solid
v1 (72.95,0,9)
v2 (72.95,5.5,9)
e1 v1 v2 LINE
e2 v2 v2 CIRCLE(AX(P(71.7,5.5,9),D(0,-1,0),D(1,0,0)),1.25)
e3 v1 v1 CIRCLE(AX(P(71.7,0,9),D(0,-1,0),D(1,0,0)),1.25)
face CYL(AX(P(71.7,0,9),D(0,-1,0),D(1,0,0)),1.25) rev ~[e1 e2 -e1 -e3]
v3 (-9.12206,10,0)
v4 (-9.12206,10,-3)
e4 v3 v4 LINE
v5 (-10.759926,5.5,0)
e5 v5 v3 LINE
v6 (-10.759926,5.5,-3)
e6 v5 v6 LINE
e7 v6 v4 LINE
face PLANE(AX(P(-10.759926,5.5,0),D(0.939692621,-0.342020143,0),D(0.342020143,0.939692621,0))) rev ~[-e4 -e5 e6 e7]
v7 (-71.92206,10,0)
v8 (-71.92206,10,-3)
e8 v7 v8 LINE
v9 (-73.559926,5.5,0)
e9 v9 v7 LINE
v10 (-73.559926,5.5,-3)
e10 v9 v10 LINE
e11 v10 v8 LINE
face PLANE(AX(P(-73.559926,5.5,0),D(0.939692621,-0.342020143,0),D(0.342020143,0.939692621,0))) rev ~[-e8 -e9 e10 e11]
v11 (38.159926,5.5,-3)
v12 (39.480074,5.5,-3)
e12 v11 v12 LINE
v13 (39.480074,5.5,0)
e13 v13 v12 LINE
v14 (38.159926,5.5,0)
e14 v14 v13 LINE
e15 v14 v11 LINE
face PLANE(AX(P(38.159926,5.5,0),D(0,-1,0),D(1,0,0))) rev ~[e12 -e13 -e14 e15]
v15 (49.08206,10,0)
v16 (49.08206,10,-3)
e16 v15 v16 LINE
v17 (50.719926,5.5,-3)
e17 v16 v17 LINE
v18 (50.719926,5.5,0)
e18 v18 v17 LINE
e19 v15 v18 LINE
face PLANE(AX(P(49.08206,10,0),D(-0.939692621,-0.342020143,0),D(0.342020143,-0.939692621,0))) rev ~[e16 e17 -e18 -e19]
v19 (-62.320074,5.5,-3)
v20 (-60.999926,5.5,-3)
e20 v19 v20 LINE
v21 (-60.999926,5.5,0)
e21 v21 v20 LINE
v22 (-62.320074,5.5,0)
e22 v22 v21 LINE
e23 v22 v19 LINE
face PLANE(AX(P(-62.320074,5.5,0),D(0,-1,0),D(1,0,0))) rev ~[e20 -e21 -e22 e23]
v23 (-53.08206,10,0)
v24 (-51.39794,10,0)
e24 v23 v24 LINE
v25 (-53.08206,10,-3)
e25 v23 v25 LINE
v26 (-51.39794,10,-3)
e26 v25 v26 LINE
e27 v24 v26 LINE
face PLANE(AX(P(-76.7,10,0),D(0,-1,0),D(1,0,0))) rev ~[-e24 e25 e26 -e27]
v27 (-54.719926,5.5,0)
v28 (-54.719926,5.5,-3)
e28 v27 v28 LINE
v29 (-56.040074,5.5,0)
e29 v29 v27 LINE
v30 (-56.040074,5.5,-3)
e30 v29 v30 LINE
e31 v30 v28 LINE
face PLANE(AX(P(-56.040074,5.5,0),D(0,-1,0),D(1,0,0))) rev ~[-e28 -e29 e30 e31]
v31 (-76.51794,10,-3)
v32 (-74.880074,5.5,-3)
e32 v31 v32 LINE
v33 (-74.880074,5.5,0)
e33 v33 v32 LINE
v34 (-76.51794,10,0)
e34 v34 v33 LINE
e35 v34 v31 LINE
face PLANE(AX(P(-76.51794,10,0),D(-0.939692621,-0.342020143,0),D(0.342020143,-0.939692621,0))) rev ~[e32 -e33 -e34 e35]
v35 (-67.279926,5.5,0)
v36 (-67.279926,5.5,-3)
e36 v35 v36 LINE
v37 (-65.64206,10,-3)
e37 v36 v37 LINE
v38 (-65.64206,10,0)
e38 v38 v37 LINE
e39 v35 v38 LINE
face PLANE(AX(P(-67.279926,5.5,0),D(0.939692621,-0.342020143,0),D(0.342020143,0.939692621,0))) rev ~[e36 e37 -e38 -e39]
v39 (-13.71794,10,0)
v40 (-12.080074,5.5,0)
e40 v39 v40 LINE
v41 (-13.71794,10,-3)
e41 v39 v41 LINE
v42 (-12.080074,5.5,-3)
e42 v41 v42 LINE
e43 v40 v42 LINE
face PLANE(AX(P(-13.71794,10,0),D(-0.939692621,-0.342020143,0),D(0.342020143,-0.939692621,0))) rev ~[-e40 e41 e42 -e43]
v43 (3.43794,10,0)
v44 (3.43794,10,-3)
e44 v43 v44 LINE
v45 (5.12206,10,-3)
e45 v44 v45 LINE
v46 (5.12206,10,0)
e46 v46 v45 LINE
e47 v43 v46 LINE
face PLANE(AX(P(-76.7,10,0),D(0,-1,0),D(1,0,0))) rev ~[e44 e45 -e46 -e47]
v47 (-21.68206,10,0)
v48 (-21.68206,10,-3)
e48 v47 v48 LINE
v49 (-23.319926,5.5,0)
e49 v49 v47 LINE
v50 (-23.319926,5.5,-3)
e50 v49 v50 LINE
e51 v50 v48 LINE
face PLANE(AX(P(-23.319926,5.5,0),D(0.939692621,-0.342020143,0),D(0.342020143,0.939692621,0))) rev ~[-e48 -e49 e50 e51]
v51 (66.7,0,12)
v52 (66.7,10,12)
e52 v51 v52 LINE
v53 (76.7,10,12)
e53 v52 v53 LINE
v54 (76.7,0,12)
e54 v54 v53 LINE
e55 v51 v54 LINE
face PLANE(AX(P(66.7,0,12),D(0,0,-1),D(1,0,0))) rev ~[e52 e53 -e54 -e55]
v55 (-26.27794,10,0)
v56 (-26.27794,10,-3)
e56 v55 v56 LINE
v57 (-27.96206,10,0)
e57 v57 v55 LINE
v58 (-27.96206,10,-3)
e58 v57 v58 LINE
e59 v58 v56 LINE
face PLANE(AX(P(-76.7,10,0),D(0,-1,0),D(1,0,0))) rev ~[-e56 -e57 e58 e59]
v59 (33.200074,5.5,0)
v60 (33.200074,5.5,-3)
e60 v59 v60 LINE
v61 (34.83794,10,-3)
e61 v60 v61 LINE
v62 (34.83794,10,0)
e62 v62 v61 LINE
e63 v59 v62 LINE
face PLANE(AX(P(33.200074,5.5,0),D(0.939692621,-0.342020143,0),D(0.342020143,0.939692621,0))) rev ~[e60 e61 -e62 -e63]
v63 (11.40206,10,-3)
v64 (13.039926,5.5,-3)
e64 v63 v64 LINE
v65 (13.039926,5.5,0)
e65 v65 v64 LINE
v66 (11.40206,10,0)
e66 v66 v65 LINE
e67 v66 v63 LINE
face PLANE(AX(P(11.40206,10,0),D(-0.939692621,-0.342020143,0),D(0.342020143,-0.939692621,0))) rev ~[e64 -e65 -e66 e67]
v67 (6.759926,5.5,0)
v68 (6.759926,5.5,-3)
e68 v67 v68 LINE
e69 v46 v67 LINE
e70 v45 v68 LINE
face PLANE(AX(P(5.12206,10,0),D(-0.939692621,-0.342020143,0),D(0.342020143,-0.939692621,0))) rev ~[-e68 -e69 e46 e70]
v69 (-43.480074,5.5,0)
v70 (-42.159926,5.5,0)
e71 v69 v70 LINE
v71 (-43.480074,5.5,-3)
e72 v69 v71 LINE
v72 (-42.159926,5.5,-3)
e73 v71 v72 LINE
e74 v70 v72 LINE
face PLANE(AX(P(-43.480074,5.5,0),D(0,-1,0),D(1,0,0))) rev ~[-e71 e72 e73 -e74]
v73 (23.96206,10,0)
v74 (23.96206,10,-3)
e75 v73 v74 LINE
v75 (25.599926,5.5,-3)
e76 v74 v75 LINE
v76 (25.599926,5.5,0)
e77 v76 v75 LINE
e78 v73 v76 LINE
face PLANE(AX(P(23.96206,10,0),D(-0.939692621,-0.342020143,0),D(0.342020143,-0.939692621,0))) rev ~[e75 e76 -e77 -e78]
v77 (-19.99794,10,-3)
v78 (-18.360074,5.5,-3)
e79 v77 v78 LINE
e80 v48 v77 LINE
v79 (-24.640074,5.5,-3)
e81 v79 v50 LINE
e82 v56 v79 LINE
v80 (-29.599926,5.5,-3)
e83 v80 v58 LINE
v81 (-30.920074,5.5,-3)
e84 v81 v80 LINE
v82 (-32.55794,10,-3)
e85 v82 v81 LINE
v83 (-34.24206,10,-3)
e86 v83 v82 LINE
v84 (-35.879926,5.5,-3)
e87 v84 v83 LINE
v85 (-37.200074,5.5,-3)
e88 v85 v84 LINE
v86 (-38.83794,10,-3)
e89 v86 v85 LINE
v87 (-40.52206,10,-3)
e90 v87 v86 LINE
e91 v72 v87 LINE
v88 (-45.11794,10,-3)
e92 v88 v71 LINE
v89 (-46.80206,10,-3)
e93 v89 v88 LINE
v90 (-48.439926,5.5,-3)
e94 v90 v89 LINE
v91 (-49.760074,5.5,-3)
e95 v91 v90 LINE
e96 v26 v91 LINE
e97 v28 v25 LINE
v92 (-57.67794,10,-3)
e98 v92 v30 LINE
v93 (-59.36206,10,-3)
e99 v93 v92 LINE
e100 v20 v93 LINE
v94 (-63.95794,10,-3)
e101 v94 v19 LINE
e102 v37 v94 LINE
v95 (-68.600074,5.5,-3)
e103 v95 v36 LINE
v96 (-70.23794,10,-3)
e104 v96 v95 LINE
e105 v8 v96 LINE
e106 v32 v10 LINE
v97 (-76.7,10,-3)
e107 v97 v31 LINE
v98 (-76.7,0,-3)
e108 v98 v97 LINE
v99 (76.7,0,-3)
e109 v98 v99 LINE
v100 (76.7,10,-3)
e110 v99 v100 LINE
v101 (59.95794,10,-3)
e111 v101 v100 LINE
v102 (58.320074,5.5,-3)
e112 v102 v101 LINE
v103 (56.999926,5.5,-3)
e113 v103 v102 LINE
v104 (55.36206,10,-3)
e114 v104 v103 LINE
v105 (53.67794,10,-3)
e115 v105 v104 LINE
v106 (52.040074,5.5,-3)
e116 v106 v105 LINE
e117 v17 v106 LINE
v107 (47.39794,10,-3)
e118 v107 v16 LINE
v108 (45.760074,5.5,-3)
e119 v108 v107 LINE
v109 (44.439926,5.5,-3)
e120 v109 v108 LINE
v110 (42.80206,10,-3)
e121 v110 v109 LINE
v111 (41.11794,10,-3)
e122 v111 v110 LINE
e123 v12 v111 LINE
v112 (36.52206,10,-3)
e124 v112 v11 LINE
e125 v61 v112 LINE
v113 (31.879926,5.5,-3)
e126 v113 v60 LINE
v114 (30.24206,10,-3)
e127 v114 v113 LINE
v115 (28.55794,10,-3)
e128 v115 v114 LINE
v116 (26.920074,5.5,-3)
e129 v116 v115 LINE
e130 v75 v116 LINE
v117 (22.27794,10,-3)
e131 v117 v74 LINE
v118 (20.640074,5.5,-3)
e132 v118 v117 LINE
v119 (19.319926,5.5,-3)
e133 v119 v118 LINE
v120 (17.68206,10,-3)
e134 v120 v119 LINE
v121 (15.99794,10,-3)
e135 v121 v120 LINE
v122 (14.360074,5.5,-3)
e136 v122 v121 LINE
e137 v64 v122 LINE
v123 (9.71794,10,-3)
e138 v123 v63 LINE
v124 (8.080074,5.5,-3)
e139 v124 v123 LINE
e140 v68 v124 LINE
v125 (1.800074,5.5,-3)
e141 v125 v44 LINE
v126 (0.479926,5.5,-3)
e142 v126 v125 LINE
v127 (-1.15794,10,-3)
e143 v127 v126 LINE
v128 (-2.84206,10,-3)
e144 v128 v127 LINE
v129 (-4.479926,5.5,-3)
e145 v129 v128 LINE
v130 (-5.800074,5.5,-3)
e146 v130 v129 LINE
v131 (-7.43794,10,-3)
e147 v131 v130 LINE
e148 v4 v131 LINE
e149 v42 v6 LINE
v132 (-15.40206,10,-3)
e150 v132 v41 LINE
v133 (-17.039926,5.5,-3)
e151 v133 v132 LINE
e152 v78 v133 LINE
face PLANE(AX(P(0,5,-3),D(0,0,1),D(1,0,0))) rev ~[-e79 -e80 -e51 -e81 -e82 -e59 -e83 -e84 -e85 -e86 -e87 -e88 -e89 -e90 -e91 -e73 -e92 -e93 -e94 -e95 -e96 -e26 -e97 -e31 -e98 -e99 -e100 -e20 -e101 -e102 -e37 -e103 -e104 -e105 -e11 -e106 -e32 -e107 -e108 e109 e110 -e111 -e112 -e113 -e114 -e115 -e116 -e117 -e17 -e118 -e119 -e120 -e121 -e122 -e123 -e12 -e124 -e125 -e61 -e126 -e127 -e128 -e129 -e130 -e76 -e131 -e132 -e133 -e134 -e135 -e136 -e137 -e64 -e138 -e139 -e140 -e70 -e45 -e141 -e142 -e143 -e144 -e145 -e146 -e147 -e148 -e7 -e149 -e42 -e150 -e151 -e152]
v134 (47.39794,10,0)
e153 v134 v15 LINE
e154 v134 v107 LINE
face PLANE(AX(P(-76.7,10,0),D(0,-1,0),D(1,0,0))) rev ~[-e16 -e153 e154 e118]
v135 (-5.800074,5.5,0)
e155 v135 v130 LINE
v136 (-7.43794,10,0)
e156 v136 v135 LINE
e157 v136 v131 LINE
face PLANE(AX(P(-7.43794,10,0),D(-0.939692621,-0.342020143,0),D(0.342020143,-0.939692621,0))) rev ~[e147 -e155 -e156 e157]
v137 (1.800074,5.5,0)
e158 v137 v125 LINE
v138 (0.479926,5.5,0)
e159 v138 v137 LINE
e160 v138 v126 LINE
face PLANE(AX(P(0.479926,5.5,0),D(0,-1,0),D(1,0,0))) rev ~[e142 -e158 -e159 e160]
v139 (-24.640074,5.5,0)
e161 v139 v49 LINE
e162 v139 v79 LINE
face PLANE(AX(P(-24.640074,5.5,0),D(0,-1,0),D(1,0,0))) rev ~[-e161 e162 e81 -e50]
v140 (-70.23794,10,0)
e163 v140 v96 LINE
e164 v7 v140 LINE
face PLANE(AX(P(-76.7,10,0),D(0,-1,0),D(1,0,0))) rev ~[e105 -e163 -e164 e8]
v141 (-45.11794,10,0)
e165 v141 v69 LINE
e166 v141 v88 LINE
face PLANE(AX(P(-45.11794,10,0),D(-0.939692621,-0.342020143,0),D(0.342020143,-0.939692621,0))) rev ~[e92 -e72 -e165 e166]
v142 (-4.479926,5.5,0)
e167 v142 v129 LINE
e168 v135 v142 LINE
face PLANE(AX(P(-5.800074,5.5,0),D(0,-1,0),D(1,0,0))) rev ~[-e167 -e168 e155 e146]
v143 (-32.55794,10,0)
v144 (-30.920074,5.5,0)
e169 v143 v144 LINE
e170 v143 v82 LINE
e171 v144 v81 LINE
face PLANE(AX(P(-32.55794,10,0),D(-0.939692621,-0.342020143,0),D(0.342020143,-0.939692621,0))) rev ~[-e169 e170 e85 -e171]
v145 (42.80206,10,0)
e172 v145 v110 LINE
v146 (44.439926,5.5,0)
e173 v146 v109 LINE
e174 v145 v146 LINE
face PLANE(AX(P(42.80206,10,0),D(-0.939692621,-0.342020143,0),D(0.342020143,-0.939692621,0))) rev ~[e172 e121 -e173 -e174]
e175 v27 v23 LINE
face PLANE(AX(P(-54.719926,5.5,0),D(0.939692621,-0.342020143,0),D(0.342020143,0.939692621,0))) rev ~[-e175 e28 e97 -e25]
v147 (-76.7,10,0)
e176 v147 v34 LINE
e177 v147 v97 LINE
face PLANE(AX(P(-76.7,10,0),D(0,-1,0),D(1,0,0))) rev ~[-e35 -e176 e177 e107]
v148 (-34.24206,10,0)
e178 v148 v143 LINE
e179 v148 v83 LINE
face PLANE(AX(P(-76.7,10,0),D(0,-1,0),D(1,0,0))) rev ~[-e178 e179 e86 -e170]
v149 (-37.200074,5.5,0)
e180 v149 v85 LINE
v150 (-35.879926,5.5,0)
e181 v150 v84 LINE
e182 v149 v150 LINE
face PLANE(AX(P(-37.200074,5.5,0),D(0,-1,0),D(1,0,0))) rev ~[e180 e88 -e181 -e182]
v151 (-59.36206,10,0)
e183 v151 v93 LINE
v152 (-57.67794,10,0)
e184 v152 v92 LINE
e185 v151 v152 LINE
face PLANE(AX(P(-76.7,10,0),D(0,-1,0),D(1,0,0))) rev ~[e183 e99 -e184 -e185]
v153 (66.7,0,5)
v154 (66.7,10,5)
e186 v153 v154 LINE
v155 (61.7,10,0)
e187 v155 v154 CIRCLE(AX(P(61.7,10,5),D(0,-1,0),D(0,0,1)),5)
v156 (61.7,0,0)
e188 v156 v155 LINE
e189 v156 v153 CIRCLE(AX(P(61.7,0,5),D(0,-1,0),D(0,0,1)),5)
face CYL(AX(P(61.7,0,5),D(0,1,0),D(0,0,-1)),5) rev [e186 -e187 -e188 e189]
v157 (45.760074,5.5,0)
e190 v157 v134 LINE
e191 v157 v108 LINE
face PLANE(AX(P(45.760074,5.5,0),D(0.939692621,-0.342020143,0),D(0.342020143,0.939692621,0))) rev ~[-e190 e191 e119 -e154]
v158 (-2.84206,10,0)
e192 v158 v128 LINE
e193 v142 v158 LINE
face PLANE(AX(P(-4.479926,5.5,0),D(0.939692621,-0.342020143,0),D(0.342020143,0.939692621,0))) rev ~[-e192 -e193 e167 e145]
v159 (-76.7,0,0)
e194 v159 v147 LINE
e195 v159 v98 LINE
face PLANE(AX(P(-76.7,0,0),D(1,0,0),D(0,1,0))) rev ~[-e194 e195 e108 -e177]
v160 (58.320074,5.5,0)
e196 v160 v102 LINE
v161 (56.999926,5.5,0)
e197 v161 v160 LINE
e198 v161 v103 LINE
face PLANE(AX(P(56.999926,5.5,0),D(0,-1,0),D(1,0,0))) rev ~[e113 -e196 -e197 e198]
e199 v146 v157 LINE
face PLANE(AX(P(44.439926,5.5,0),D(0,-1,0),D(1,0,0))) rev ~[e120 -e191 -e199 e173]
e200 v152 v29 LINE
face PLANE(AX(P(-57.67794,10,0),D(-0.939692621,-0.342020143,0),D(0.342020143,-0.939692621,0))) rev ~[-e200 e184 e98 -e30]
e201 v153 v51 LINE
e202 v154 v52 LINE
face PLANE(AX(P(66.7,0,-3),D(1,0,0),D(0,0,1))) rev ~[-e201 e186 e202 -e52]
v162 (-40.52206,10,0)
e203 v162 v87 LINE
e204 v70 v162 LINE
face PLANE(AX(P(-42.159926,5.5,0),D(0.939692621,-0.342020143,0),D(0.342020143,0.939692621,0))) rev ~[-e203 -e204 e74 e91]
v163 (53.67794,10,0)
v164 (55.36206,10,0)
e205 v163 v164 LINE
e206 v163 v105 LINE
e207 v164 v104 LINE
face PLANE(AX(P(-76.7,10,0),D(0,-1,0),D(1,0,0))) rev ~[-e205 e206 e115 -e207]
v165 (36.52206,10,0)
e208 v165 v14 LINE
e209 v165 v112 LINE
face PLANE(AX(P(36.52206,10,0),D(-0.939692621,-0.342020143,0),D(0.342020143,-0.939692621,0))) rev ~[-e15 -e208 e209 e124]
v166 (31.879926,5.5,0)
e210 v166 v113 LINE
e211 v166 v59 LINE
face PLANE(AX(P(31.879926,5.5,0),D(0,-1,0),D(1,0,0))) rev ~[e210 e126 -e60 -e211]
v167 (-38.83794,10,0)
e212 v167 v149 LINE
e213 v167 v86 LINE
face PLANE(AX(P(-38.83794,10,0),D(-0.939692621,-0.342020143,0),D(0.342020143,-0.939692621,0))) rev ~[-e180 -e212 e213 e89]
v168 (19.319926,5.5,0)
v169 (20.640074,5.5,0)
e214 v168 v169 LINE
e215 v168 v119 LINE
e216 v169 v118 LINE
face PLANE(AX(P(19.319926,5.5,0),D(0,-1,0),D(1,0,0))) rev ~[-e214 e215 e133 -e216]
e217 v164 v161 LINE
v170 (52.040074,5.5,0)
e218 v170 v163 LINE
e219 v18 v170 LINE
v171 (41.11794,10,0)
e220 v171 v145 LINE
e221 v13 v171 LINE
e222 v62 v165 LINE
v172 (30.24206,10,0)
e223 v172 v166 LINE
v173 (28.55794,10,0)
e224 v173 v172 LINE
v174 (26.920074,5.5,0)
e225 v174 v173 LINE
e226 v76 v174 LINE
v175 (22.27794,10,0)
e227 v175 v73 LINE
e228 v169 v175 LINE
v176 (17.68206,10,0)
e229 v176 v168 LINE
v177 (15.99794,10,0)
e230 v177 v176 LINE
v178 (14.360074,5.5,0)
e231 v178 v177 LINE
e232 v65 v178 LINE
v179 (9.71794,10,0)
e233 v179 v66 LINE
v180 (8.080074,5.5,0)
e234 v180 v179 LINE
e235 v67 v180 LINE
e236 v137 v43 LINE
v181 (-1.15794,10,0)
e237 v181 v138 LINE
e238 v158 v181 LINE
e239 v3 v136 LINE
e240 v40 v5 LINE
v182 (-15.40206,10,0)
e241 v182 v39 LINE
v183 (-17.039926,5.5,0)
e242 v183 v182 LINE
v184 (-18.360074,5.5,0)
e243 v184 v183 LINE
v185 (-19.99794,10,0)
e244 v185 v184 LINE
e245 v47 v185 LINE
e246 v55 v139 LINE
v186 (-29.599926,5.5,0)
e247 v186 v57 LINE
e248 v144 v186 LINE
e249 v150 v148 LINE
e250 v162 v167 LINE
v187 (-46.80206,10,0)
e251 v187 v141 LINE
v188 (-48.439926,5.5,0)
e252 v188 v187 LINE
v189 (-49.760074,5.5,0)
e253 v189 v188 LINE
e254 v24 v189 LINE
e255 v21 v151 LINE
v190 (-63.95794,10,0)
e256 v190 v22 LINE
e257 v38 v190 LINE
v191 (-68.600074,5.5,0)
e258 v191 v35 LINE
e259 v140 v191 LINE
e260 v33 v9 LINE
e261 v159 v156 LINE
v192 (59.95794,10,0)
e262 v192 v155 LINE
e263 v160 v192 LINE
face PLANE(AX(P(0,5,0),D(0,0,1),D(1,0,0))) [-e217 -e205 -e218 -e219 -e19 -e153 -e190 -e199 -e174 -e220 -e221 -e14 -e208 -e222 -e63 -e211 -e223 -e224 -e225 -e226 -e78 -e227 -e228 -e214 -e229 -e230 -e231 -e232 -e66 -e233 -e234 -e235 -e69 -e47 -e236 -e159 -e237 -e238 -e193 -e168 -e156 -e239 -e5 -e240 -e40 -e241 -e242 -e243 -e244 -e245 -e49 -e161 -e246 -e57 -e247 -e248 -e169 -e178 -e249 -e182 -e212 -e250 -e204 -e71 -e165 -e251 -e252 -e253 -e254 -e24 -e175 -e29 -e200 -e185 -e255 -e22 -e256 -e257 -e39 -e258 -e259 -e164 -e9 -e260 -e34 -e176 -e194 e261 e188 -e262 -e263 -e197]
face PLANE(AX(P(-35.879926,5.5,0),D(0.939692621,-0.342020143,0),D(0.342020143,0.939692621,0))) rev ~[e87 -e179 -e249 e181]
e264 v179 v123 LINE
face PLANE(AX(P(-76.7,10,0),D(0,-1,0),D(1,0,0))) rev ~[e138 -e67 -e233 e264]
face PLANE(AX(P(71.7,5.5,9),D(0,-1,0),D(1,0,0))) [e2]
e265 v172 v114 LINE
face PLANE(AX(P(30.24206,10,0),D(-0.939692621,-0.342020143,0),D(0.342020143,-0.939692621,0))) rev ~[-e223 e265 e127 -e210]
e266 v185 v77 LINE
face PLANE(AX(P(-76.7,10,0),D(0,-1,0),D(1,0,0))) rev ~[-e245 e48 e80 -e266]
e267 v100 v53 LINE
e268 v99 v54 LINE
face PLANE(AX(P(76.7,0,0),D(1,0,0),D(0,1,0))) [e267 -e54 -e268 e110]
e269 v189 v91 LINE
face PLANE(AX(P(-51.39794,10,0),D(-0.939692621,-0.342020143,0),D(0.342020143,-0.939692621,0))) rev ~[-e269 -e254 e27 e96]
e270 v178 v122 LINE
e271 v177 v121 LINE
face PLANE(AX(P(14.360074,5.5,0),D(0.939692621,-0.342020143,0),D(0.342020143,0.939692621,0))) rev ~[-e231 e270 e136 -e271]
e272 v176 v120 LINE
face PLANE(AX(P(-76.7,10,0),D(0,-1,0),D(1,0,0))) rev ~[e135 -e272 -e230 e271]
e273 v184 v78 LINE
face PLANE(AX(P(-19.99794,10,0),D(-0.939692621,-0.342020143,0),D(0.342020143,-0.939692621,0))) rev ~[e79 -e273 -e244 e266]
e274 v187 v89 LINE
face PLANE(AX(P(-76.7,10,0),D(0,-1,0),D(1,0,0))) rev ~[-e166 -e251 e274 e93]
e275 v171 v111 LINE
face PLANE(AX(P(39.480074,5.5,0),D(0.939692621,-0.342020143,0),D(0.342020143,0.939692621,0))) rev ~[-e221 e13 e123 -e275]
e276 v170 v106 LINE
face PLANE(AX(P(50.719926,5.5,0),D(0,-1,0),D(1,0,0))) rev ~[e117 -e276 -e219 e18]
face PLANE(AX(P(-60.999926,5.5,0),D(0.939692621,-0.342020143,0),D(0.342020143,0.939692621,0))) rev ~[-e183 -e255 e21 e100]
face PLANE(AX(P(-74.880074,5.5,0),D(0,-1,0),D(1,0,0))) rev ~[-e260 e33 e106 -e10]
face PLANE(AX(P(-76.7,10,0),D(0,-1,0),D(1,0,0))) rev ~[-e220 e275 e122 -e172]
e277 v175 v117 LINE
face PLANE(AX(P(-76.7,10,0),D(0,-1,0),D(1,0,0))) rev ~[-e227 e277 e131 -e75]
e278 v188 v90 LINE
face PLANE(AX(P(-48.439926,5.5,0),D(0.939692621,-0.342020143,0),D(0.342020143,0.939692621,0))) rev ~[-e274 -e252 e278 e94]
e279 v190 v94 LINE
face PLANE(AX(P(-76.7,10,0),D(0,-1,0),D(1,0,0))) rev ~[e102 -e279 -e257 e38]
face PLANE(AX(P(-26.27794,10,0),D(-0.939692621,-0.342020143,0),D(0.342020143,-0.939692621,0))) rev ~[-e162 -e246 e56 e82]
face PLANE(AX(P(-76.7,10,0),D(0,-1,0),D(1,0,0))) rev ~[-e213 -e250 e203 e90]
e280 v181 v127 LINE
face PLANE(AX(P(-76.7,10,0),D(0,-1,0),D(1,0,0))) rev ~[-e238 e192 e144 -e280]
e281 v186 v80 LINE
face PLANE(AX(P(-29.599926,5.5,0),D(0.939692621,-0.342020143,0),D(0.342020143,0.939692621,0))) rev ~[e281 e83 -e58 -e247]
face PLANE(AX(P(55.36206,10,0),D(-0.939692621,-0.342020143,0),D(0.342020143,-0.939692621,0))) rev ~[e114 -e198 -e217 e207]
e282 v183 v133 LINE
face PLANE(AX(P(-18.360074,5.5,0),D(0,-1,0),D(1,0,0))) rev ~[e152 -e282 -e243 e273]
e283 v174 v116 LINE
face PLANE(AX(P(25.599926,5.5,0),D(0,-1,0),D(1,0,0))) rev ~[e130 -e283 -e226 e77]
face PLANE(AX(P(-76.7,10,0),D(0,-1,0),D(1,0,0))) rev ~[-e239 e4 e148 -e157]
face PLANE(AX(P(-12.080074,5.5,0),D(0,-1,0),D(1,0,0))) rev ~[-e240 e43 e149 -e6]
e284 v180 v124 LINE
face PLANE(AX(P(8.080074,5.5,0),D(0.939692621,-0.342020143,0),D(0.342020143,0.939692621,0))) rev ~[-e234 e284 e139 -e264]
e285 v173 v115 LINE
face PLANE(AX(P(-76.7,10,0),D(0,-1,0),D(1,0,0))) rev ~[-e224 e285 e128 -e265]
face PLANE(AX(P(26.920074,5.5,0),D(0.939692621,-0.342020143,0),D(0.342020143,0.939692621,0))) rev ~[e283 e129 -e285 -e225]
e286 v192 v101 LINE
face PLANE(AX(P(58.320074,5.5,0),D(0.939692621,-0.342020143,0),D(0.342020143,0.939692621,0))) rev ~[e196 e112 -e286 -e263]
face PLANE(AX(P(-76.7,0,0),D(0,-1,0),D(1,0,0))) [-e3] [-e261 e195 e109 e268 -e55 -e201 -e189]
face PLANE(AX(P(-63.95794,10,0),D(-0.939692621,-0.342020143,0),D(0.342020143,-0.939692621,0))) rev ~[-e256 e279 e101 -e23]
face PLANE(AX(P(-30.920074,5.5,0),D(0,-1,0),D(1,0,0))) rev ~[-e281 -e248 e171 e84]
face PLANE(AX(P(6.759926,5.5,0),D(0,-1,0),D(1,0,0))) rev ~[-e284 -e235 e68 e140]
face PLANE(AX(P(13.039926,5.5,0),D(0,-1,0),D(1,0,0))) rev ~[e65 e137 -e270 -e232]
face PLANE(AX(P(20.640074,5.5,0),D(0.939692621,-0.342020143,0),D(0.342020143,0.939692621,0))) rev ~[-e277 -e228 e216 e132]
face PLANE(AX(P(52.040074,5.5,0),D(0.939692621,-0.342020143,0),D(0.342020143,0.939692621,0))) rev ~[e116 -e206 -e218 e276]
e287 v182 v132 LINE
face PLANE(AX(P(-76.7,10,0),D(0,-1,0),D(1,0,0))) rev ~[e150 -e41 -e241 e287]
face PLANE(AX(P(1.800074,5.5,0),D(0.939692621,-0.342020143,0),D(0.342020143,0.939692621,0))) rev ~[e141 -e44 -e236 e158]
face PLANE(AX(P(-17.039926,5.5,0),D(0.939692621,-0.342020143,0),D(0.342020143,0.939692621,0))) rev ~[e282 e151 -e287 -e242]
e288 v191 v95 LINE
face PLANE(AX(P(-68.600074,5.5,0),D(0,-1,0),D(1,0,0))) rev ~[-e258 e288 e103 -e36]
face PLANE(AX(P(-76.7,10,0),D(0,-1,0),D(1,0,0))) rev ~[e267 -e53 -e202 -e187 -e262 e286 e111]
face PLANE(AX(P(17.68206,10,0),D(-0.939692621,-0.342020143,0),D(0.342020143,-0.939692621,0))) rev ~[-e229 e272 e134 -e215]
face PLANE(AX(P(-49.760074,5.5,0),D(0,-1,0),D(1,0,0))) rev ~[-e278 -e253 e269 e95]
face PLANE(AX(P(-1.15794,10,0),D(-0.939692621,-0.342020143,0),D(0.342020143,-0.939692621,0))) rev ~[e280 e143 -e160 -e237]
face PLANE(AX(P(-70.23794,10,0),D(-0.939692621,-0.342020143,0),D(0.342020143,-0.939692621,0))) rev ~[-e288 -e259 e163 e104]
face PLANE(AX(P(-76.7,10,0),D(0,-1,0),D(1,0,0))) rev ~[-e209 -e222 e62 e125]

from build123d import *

# Parameters (mm, degrees)
SKETCH_1_W                 = 153.4
SKETCH_1_H                 = 10
EXTRUDE_1_DEPTH            = 3
CUT_EXTRUDE_1_DEPTH        = 4
PATTERN_LINEAR_1_COUNT     = 21
PATTERN_LINEAR_1_PITCH     = 6.28
PATTERN_LINEAR_1_COL_COUNT = 2
PATTERN_LINEAR_1_COL_PITCH = 6.28
SKETCH_3_W                 = 10
SKETCH_3_H                 = 15
EXTRUDE_2_DEPTH            = 10
FILLET_1_R                 = 5
SKETCH_4_R                 = 1.25
CUT_EXTRUDE_2_DEPTH        = 5.5


with BuildPart() as part:
    # 스케치1 → 보스-돌출1 (new body)
    with BuildSketch(Plane.XY):
        with Locations((0, 5)):
            Rectangle(SKETCH_1_W, SKETCH_1_H)
    extrude(amount=-EXTRUDE_1_DEPTH)

    # 스케치2 → 컷-돌출1 (cut, through all)
    with BuildSketch(Plane.XY):
        Polygon((-68.600074414, 5.5), (-67.279925586, 5.5), (-65.642059531, 10), (-70.237940469, 10), align=None)
    cut_extrude_1 = extrude(amount=-CUT_EXTRUDE_1_DEPTH, mode=Mode.SUBTRACT)

    # 선형 패턴1: 컷-돌출1 ×21
    with Locations(*[(i * PATTERN_LINEAR_1_PITCH, 0, 0) for i in range(1, PATTERN_LINEAR_1_COUNT)]):
        add(cut_extrude_1, mode=Mode.SUBTRACT)

    # 선형 패턴1 col: 컷-돌출1 ×2
    with Locations(*[(-i * PATTERN_LINEAR_1_COL_PITCH, 0, 0) for i in range(1, PATTERN_LINEAR_1_COL_COUNT)]):
        add(cut_extrude_1, mode=Mode.SUBTRACT)

    # 스케치3 → 보스-돌출2 (add)
    with BuildSketch(Plane.XZ):
        with Locations((71.7, 4.5)):
            Rectangle(SKETCH_3_W, SKETCH_3_H)
    extrude(amount=-EXTRUDE_2_DEPTH)

    # 필렛1
    fillet_1_edges = [part.edges().sort_by_distance(p)[0] for p in [
        (66.7, 5, 0),
    ]]
    fillet(fillet_1_edges, radius=FILLET_1_R)

    # 스케치4 → 컷-돌출2 (cut)
    with BuildSketch(Plane.XZ):
        with Locations((71.7, 9)):
            Circle(SKETCH_4_R)
    extrude(amount=-CUT_EXTRUDE_2_DEPTH, mode=Mode.SUBTRACT)


solid = part.part
